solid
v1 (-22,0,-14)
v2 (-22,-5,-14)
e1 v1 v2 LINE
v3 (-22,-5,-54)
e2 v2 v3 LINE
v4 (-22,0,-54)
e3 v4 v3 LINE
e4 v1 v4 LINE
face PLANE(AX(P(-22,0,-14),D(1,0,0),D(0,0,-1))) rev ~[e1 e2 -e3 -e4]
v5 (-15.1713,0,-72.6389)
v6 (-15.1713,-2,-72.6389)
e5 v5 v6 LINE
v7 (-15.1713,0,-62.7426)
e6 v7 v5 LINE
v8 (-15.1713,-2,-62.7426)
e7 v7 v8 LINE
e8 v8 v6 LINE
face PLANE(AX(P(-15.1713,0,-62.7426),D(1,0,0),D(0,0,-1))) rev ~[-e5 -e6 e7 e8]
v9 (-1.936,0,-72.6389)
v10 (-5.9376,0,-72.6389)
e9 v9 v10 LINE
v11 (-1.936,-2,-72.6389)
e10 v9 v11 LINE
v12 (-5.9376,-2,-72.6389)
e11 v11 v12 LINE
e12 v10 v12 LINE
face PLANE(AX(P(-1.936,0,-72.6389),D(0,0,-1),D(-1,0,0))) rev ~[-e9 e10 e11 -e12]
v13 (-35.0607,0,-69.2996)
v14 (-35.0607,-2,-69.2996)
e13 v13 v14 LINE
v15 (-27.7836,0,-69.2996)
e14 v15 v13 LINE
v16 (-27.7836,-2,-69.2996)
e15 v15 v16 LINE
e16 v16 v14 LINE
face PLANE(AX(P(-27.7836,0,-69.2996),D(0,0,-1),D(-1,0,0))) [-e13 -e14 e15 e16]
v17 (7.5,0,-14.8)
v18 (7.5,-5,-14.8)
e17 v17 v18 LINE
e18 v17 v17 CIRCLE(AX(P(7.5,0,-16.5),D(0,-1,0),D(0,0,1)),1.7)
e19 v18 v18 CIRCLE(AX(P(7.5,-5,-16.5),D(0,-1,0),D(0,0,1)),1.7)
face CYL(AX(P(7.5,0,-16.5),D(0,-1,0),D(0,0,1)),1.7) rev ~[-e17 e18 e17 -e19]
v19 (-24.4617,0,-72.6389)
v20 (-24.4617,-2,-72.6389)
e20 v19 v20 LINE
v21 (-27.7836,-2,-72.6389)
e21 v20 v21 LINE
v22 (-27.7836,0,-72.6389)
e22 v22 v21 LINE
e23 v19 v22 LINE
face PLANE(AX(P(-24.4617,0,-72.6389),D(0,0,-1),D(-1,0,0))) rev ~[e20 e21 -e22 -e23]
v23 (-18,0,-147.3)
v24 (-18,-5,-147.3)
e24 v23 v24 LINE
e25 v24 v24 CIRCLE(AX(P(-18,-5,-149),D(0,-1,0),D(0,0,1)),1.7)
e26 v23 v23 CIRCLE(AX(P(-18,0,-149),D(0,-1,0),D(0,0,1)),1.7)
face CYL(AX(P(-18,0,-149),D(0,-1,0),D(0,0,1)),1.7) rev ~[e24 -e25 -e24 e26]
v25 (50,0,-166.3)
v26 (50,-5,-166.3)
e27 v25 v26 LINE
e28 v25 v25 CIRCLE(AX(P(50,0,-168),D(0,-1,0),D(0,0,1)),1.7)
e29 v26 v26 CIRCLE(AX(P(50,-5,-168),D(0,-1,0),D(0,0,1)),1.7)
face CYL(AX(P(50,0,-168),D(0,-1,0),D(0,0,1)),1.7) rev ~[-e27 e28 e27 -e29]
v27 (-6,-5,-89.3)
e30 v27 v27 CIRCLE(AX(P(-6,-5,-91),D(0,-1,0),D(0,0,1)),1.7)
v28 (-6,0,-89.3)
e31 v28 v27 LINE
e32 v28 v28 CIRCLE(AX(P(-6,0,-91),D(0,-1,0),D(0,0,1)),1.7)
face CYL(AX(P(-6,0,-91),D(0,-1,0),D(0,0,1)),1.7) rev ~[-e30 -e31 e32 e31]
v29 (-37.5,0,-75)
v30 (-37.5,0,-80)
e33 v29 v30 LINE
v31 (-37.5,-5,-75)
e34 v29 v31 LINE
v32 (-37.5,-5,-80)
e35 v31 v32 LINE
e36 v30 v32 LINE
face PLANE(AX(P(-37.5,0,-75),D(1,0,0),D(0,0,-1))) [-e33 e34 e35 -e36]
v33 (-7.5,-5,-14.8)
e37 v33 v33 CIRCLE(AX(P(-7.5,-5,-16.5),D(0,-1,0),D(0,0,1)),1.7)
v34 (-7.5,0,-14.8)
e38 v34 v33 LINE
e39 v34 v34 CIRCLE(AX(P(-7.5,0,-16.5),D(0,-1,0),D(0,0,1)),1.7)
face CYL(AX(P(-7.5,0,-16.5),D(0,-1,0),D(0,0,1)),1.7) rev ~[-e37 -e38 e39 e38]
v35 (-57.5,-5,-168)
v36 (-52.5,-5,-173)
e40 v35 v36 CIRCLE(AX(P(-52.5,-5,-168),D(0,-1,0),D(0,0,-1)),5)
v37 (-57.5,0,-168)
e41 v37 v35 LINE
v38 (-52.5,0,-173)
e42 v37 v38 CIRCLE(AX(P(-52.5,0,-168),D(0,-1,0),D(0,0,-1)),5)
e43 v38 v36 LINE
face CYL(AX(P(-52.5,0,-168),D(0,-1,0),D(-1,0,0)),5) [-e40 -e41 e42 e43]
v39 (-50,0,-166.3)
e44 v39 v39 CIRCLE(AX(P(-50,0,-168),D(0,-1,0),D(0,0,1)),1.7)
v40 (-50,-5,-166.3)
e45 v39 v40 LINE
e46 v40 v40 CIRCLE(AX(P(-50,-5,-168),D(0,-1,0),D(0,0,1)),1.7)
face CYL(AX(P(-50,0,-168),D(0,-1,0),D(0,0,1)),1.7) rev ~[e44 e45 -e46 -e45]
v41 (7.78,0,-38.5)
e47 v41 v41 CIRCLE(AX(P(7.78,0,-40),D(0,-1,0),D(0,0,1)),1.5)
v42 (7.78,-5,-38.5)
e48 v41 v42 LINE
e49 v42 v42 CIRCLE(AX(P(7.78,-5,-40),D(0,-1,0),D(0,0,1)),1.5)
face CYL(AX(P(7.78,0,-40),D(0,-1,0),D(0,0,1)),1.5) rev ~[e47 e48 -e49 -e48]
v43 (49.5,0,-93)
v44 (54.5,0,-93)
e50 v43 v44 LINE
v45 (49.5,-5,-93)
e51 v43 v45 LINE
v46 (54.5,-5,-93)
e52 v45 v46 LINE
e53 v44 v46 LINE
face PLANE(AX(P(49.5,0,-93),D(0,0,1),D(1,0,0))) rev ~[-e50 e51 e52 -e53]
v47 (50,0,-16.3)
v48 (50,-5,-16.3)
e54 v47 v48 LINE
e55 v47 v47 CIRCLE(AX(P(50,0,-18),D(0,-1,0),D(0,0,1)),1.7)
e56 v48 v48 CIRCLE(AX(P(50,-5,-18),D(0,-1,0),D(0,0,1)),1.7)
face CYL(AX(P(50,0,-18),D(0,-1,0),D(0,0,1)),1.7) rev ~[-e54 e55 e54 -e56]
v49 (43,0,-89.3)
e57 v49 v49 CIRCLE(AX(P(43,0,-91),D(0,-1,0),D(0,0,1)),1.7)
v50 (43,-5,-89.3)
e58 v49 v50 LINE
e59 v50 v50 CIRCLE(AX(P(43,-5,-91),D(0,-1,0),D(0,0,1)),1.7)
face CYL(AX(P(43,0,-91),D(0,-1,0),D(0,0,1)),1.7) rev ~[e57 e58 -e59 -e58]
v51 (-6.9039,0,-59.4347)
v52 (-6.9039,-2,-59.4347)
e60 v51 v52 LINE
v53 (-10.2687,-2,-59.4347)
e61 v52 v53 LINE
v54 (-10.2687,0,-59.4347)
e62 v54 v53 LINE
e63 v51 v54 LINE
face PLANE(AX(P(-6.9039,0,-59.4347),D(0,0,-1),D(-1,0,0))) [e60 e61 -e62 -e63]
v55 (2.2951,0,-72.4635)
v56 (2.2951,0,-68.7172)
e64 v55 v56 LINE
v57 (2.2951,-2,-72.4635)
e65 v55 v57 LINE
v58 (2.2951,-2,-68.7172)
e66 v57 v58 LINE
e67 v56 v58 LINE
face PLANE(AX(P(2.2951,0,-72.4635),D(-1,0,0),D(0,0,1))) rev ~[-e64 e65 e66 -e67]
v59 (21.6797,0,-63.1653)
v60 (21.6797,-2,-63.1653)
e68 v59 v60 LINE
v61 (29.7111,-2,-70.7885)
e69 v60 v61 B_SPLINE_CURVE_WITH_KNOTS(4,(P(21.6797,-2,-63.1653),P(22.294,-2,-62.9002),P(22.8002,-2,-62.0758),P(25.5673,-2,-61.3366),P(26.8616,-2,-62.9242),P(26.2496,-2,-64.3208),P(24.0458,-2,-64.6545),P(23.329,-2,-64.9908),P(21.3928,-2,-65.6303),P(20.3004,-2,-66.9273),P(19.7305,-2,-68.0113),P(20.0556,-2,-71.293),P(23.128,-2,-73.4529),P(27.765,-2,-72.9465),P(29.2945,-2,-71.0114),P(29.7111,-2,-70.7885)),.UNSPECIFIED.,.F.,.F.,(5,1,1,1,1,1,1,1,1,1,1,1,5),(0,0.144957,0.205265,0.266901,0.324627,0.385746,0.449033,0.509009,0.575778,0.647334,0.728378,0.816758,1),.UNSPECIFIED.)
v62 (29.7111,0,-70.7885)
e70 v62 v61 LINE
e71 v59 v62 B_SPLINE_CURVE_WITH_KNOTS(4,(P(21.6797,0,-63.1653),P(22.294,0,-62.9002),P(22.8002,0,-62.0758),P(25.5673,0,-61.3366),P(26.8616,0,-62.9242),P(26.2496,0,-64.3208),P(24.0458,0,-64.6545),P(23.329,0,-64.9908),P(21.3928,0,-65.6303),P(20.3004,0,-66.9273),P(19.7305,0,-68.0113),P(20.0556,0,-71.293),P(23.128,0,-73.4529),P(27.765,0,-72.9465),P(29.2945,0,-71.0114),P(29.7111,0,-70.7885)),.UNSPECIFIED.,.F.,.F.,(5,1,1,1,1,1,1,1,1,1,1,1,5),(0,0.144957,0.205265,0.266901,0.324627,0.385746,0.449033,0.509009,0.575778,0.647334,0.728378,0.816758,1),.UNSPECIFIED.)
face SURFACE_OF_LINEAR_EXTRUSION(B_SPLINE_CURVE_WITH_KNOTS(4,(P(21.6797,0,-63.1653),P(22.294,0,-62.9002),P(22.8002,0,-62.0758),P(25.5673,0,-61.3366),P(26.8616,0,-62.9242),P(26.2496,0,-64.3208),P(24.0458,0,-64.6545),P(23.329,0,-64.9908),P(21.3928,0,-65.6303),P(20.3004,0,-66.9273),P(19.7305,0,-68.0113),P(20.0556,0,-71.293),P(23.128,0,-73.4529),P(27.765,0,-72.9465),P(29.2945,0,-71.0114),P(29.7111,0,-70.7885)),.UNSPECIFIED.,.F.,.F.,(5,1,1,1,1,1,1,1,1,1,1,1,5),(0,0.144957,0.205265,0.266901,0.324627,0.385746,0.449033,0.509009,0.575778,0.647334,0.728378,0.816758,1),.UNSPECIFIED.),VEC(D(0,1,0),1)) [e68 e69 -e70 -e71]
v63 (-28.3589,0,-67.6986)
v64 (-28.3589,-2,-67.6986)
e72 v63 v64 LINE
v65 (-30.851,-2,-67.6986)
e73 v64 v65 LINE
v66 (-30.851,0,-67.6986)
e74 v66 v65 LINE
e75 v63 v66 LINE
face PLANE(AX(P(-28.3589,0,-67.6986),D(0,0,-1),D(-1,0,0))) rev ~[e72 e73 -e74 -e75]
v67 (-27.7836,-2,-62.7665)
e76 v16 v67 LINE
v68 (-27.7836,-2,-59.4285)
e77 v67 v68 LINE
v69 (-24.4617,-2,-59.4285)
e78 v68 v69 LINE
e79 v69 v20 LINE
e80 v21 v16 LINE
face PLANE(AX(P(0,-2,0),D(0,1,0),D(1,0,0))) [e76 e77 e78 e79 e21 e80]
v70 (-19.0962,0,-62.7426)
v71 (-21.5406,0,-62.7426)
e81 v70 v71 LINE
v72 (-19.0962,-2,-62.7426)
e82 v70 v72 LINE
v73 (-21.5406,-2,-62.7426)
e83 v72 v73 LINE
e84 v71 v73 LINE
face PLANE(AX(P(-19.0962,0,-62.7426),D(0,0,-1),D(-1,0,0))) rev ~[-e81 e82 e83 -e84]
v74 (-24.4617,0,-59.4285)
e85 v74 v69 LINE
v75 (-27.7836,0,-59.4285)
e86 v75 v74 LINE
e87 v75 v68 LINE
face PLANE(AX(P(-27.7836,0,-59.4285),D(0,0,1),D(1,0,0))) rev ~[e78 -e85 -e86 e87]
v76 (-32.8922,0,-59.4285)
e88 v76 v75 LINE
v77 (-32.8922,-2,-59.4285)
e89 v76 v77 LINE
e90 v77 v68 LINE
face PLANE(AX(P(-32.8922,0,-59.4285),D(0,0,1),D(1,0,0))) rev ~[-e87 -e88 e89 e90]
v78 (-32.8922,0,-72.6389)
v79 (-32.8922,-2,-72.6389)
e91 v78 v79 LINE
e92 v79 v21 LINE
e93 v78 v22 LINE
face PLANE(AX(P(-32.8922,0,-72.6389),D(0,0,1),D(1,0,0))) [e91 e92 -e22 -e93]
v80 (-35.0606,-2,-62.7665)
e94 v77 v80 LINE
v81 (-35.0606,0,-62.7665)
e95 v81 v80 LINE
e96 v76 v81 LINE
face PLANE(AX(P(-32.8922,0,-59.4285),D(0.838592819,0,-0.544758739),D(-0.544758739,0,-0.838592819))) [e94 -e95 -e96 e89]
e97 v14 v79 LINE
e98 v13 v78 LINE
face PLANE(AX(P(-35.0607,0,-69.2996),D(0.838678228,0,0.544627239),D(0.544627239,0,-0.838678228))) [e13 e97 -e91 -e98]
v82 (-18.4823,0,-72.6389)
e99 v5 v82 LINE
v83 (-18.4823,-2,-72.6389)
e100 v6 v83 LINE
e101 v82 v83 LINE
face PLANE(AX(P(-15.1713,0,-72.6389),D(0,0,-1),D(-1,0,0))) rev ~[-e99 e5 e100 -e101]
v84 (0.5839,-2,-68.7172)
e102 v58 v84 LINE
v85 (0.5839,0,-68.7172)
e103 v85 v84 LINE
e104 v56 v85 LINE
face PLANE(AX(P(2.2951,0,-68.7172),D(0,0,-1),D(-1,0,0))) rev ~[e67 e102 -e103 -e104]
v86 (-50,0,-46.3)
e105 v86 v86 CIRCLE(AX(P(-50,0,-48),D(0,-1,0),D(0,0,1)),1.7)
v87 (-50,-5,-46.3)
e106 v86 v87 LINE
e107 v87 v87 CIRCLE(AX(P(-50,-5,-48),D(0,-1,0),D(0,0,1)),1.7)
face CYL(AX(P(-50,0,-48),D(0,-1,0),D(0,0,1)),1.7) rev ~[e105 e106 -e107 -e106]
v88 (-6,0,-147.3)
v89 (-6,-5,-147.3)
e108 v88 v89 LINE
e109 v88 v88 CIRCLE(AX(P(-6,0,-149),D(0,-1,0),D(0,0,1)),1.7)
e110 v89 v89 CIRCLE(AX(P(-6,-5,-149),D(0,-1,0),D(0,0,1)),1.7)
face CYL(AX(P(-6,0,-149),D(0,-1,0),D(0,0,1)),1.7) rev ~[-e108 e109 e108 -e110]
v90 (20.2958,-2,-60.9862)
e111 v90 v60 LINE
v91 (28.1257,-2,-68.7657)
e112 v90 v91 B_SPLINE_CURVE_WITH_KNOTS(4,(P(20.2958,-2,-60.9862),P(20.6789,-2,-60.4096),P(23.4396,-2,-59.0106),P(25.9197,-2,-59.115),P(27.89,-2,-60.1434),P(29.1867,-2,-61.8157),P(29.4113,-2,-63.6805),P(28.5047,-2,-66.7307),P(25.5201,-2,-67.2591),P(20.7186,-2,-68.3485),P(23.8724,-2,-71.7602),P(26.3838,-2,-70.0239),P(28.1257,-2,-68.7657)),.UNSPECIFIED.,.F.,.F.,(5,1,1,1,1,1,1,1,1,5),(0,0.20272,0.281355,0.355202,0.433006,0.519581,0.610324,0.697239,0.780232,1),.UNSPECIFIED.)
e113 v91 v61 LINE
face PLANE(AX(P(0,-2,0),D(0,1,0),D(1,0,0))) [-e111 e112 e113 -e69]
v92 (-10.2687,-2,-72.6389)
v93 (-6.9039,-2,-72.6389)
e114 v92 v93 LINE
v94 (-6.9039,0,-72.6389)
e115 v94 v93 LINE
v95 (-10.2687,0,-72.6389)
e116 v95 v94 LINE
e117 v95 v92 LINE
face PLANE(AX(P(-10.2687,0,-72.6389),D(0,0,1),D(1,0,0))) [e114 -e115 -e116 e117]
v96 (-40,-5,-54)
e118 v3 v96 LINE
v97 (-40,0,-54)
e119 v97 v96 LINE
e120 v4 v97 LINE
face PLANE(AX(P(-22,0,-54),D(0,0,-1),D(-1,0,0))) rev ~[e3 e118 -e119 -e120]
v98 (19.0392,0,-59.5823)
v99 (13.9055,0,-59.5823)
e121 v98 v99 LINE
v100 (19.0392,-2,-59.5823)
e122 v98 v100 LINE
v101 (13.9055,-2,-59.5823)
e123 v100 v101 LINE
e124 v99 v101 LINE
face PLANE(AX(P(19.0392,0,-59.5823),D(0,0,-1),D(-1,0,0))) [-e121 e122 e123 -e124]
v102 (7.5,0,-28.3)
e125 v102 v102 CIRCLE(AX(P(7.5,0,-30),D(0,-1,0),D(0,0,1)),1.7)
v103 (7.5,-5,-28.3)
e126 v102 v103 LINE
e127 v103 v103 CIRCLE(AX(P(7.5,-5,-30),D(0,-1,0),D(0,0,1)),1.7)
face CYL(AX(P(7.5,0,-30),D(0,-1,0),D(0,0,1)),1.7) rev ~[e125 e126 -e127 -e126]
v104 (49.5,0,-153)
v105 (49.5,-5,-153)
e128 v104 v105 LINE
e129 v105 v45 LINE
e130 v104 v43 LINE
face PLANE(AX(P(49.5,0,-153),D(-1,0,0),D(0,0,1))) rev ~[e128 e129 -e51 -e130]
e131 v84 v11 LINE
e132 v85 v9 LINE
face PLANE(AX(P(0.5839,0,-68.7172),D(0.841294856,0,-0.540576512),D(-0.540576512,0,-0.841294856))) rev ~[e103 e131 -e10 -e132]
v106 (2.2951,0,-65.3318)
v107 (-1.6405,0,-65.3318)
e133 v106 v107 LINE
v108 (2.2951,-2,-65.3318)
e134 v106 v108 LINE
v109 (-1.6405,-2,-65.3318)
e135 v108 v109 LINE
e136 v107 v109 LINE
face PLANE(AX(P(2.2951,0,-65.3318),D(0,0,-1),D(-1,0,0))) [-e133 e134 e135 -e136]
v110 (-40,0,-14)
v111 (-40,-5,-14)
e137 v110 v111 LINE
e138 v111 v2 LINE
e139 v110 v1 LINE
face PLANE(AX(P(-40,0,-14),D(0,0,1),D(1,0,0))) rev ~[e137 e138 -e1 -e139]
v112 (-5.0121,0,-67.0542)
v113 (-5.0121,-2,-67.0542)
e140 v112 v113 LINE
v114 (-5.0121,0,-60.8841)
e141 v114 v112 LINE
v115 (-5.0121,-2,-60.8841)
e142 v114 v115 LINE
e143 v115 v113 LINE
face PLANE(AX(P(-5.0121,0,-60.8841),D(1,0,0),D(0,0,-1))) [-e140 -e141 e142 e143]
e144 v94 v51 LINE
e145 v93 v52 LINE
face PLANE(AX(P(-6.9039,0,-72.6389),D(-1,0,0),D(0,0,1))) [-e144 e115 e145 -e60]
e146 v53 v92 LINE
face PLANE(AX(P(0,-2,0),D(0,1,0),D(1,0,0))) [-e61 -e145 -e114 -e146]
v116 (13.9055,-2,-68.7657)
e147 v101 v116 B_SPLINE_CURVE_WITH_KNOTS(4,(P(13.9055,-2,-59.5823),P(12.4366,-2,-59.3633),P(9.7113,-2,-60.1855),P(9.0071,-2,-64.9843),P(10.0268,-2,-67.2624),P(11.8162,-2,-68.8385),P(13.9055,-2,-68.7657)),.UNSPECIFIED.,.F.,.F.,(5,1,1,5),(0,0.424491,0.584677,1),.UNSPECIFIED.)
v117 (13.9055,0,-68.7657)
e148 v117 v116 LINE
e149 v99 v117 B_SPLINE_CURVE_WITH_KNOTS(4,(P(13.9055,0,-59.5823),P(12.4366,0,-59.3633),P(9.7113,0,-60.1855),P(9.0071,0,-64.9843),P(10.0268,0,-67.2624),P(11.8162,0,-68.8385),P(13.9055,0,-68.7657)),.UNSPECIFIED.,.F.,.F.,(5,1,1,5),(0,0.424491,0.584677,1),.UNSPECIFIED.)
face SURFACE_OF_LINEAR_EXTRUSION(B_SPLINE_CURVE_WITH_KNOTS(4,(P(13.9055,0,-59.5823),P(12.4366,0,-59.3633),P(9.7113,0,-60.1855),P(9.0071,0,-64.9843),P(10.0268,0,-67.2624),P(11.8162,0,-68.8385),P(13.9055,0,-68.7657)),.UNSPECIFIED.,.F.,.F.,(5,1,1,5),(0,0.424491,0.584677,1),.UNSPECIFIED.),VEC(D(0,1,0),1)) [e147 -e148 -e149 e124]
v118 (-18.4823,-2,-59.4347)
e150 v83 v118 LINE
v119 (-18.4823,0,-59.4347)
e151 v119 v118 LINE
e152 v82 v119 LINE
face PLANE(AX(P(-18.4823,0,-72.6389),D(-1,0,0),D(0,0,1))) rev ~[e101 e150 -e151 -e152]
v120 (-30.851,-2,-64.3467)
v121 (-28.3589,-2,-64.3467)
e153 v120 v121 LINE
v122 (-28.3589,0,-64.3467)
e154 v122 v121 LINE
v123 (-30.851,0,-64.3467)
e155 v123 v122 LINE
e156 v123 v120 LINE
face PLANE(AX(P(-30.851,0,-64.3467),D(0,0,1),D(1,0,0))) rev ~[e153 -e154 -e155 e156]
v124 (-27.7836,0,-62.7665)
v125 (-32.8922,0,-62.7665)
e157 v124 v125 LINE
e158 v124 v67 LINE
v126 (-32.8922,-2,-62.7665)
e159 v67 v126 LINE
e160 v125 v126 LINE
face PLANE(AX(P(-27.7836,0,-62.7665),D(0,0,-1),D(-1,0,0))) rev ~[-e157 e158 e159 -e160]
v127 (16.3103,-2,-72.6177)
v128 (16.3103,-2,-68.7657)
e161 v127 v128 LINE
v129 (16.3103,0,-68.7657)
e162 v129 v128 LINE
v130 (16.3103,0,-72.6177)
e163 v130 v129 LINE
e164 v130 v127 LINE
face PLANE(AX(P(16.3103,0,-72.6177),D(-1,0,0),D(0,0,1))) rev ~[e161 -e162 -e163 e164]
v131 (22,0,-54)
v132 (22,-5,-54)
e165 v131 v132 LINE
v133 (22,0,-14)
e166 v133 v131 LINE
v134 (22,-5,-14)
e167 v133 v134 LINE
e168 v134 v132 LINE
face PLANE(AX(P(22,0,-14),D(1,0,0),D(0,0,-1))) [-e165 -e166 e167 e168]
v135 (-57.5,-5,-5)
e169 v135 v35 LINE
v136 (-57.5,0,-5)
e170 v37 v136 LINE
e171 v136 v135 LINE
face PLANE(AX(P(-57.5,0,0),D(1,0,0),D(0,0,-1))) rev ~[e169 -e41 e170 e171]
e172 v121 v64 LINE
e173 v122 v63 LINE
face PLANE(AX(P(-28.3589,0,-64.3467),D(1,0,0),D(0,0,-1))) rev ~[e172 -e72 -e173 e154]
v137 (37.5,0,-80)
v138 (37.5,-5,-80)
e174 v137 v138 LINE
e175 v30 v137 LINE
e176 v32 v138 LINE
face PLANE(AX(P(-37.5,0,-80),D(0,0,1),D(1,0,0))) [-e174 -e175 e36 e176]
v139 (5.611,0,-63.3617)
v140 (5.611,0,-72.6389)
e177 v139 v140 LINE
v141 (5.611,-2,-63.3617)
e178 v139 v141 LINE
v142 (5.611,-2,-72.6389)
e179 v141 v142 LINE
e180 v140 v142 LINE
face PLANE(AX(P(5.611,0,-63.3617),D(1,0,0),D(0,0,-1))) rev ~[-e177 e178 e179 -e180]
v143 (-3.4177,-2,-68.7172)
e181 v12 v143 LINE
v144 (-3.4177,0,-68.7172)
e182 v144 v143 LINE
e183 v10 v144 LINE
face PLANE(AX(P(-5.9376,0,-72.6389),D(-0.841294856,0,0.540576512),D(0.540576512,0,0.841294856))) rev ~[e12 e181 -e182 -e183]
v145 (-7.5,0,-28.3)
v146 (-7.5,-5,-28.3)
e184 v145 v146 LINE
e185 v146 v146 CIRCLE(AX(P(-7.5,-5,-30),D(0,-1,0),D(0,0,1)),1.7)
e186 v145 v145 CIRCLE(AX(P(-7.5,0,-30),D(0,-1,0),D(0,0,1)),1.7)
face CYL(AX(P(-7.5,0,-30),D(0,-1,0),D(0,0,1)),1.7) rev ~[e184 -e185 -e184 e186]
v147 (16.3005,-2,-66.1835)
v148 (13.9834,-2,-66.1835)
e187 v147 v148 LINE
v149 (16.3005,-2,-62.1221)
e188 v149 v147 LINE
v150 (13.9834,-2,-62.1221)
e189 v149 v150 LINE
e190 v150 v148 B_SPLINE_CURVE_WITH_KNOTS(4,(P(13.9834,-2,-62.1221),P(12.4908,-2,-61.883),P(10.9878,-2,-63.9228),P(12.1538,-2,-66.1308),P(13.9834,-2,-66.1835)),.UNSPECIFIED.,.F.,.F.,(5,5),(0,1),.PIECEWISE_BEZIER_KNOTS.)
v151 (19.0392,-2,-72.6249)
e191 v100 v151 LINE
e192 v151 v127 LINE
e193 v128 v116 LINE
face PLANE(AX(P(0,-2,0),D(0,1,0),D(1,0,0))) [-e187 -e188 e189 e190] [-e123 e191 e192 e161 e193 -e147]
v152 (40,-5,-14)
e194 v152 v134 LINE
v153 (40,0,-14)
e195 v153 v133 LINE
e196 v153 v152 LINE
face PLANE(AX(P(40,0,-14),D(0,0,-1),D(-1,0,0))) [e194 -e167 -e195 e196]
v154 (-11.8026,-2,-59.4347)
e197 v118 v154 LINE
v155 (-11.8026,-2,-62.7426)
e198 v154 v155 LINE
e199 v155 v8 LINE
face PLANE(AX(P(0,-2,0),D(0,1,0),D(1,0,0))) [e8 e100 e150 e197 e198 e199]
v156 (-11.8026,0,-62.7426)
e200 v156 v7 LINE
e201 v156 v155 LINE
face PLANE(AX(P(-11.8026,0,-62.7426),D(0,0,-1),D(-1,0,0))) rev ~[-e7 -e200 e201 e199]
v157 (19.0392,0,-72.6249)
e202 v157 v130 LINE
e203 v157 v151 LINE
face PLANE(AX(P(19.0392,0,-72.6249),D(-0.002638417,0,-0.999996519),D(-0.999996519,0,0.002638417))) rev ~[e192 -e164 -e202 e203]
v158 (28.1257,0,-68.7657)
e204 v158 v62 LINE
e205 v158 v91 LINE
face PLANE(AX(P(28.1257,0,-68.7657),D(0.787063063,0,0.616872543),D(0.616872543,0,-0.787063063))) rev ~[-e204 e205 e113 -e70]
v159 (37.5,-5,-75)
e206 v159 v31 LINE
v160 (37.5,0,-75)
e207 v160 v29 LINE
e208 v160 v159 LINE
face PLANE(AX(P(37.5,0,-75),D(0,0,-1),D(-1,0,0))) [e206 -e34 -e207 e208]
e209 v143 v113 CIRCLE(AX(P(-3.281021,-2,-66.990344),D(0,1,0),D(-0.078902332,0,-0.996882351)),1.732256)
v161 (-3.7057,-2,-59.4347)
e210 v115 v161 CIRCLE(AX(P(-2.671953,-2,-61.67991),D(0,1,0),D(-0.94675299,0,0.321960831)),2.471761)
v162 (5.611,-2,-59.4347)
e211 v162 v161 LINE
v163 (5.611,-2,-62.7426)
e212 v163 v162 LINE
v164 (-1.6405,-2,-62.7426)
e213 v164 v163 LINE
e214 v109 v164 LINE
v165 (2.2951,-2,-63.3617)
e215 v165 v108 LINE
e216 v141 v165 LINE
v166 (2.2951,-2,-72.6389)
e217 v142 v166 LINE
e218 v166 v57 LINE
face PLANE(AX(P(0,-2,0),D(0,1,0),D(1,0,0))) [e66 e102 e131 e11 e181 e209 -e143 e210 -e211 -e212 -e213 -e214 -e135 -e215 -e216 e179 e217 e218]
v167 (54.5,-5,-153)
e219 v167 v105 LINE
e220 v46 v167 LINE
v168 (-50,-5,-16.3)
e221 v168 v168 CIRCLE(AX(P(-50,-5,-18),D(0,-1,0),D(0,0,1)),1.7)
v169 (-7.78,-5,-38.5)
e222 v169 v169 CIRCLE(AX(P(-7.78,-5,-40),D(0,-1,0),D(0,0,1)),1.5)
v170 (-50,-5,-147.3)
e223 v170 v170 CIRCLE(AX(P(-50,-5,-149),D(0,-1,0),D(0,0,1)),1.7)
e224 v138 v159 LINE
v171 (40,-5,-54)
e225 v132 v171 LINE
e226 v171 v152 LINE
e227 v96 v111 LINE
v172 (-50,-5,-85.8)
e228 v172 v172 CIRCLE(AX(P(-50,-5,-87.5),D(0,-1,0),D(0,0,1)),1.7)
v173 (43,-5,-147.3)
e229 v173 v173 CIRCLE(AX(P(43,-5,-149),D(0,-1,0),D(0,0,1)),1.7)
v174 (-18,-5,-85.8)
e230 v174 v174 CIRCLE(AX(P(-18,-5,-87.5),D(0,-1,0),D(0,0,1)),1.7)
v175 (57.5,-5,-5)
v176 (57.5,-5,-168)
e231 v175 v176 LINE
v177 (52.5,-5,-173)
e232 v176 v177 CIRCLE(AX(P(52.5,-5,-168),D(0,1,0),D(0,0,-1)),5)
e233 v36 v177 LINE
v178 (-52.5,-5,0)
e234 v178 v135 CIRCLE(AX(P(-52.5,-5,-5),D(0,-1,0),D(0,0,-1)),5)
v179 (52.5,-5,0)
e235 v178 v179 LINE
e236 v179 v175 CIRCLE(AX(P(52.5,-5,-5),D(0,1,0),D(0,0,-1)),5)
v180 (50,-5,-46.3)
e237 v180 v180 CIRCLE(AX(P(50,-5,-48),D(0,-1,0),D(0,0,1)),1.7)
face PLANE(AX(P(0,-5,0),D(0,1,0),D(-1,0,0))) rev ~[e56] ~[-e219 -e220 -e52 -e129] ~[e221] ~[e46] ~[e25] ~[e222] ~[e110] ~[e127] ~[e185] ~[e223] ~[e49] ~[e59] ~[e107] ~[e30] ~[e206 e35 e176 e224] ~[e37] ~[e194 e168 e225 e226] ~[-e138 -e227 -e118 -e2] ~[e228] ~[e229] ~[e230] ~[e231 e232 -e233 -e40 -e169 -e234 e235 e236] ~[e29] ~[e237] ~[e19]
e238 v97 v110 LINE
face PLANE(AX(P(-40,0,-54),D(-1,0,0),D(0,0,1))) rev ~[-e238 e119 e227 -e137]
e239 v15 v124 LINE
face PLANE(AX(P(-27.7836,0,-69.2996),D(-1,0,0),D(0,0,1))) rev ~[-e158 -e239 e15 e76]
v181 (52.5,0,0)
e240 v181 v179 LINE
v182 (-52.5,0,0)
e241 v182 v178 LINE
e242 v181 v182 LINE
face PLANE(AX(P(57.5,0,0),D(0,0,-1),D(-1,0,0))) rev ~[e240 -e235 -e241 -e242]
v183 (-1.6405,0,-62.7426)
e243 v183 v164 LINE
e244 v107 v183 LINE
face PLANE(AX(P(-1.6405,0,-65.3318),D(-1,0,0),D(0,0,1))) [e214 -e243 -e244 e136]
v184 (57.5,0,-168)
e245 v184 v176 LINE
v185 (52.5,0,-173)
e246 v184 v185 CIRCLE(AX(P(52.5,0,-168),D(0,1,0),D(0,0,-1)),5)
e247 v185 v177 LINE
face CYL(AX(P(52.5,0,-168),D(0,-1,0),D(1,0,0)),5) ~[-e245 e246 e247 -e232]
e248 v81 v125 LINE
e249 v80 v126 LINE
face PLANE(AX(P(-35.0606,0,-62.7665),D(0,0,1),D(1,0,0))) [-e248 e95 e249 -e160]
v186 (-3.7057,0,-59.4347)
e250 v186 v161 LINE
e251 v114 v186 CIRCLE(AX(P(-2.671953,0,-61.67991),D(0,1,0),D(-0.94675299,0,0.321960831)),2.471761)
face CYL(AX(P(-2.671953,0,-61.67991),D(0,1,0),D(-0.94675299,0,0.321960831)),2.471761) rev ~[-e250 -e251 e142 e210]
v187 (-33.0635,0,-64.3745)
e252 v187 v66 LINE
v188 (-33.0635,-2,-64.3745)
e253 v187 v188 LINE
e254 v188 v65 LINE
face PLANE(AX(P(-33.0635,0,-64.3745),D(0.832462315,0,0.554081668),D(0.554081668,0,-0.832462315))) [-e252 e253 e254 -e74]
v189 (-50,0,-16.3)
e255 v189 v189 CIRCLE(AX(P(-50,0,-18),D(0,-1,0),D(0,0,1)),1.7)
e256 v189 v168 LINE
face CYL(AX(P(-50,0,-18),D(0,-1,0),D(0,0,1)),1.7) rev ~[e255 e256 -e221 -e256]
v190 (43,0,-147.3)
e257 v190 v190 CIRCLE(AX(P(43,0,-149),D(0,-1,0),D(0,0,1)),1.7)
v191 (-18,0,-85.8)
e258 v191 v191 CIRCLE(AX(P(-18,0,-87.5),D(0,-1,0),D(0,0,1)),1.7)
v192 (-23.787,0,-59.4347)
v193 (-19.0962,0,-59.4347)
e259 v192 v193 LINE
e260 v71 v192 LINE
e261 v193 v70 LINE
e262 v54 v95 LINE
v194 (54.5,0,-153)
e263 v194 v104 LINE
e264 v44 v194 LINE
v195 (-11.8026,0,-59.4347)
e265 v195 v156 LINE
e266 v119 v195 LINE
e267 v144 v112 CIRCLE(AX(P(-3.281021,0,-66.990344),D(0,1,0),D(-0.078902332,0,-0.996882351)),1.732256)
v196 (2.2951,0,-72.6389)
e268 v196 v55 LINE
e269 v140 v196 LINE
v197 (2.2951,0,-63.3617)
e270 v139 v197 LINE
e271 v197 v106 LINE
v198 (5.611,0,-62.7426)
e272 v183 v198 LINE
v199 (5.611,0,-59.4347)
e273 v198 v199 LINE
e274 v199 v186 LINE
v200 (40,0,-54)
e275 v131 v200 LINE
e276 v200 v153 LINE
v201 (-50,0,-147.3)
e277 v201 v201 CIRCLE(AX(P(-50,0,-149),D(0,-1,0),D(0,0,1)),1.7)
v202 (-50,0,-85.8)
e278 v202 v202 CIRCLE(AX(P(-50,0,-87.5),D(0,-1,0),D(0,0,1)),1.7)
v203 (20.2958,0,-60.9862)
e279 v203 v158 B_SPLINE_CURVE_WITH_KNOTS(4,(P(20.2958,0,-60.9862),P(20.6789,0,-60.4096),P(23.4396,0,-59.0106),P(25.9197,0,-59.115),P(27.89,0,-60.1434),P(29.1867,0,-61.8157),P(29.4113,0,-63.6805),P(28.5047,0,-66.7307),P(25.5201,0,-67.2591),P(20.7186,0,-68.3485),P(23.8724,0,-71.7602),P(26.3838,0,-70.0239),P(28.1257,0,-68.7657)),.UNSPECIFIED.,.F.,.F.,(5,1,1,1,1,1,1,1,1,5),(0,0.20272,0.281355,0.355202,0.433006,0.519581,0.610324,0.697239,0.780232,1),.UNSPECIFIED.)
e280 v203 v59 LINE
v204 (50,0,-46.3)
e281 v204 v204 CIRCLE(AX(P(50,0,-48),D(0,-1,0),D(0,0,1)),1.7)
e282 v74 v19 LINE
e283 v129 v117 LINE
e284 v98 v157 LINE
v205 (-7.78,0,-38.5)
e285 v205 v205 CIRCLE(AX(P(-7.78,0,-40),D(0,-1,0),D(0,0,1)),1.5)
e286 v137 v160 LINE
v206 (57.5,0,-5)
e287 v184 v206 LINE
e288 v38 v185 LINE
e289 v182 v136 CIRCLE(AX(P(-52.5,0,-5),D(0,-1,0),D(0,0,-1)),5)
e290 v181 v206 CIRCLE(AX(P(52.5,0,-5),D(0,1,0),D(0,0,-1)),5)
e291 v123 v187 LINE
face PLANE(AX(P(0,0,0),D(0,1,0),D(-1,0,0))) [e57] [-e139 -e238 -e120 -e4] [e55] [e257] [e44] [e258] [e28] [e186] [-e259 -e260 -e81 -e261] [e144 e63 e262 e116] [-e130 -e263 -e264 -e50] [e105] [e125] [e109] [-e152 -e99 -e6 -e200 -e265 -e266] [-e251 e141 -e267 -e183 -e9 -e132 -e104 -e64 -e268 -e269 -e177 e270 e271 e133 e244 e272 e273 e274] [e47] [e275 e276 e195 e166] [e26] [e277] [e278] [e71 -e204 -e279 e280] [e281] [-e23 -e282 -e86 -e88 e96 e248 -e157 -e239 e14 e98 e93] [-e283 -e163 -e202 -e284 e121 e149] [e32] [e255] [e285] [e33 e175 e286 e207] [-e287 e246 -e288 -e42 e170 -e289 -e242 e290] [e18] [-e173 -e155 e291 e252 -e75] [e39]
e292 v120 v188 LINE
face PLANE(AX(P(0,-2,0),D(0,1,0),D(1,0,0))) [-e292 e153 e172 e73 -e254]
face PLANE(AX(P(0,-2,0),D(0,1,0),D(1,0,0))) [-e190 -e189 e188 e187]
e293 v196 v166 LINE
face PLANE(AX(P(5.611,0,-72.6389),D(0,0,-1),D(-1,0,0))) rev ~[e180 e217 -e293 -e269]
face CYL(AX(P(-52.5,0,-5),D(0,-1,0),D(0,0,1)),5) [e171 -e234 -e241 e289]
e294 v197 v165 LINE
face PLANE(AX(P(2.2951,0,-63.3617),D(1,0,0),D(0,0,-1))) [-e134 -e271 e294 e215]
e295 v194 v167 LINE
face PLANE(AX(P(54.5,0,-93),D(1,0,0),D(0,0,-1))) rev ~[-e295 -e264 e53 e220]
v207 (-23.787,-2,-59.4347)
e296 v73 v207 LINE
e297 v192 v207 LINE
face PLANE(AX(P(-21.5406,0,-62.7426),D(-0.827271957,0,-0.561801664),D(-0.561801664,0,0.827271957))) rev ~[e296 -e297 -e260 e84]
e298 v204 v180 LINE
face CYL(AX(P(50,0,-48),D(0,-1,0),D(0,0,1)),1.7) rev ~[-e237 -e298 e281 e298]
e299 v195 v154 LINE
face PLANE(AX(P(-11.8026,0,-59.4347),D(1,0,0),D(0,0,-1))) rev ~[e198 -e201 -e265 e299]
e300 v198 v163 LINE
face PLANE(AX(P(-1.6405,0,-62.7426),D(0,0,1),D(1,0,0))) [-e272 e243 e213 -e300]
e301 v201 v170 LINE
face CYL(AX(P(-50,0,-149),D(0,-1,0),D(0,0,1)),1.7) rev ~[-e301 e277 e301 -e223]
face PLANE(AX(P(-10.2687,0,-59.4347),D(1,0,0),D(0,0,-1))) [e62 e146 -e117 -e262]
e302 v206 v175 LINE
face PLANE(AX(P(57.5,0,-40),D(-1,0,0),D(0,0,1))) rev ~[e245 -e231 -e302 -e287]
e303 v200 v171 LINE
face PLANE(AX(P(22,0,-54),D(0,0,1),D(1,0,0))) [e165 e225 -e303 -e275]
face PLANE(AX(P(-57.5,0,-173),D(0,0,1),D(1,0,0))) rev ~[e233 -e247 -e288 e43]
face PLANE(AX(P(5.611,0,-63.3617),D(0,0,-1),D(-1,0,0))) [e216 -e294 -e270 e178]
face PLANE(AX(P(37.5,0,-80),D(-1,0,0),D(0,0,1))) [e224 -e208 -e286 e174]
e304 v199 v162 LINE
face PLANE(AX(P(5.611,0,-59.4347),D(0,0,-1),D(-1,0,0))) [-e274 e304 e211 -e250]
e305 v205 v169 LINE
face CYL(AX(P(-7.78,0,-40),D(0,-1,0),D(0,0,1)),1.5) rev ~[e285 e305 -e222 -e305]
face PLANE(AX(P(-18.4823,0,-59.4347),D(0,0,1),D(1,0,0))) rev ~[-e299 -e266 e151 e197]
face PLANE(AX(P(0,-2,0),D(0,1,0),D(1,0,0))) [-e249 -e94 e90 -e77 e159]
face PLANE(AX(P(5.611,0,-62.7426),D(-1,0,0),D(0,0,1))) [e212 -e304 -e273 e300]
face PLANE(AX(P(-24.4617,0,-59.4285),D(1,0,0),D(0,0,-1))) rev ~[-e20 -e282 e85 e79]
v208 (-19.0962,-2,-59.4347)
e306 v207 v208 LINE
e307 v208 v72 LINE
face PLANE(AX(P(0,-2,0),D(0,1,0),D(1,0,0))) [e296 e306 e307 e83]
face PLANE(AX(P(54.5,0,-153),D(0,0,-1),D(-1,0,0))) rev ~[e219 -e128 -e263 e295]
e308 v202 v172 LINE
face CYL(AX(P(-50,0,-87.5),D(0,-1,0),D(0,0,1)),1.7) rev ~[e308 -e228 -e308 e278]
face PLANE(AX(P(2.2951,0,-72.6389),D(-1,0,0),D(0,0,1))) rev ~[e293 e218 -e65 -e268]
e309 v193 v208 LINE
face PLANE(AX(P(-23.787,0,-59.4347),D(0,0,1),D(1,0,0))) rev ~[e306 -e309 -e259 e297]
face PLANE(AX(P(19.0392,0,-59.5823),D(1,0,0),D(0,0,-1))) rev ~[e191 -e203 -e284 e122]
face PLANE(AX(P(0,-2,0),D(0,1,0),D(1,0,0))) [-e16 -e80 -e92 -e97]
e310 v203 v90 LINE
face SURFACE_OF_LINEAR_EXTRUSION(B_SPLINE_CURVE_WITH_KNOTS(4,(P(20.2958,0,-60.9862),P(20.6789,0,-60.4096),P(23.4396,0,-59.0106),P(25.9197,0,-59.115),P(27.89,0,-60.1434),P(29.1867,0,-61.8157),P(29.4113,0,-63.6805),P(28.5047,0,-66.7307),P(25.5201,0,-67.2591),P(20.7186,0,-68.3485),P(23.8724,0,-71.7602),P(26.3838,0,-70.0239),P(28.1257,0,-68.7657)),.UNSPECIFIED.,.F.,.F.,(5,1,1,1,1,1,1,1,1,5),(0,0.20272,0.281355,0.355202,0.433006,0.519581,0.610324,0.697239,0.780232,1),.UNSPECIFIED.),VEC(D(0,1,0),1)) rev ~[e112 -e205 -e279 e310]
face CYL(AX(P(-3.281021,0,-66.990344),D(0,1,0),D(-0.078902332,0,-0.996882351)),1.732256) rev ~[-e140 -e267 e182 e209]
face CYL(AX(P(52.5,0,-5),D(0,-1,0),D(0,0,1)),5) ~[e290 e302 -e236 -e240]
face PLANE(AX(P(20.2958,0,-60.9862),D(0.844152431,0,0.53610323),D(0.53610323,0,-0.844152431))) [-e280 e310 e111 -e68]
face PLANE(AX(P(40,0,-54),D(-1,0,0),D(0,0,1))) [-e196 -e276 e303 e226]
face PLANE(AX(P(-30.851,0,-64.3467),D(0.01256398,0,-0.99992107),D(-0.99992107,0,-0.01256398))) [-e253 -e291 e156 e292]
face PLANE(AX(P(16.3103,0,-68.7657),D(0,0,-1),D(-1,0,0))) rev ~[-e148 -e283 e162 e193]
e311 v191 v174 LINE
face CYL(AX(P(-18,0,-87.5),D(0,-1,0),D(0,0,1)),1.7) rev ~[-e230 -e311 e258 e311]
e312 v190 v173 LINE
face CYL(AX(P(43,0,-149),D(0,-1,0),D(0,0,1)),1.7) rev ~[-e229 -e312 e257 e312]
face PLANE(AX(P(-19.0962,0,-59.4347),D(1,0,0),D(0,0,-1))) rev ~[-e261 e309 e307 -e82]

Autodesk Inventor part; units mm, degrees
ref_plane "YZ Plane" through (0, 0, 0) normal (1, 0, 0) x (0, 1, 0)
ref_plane "XZ Plane" through (0, 0, 0) normal (0, 1, 0) x (-1, 0, 0)
ref_plane "XY Plane" through (0, 0, 0) normal (0, 0, 1) x (1, 0, 0)
sketch "Sketch1" plane through (0, 0, 0) normal (0, 1, 0) x (-1, 0, 0)
  line L0 (57.5, -173) -> (57.5, -173) construction
  line L1 (-57.5, -173) -> (-57.5, 0) construction
  line L2 (-57.5, 0) -> (57.5, 0)
  line L3 (57.5, 0) -> (57.5, -173) construction
  line L4 (80.5, 0) -> (-80.5, 0) construction
  line L5 (0, -207.6) -> (0, 34.6) construction
  line L6 (57.5, -173) -> (-57.5, -173)
  line L7 (-57.5, -173) -> (-57.5, -173) construction
  line L8 (57.5, 0) -> (-55.1767, 0)
  line L9 (57.5, -40) -> (-57.5, -40) construction
  line L10 (-57.5, -40) -> (-57.5, 0)
  line L11 (-57.5, 0) -> (57.5, 0)
  line L12 (57.5, 0) -> (57.5, -40)
  line L13 (-57.5, -173) -> (-57.5, -40)
  line L14 (57.5, -173) -> (57.5, -40)
  point P0 (0, 0)
  dimension "width" = 115
  dimension "Length" = 173
  dimension "d2" = 115
  dimension "d112" = 40
extrude "Base" add sketch "Sketch1" against normal blind 5
sketch "Sketch11" plane through (0, 0, 0) normal (0, 1, 0) x (1, 0, 0)
  line L0 (0, 207.6) -> (0, -34.6) construction
  line L1 (-57.5, 0) -> (57.5, 0) construction
  line L2 (57.5, 173) -> (-57.5, 173) projected
  line L3 (-50, 18) -> (50, 18) construction
  line L4 (50, 18) -> (50, 48) construction
  line L5 (50, 48) -> (-50, 48) construction
  line L6 (-50, 48) -> (-50, 18) construction
  point P0 (0, 0)
  point P1 (50, 168)
  point P2 (-50, 168)
  dimension "d91" = 18
  dimension "d92" = 50
  dimension "d93" = 5
  dimension "d94" = 50
  dimension "d113" = 30
hole "Mounting Holes" at (50, 0, -18) at (-50, 0, -18) at (50, 0, -168) at (-50, 0, -168) at (-50, 0, -48) at (50, 0, -48) direction (0, -1, 0) diameter 3.4 depth 6
fillet "Fillet1" radius 5 4 edges at (-57.5, -2.5, 0) (57.5, -2.5, -173) (-57.5, -2.5, -173) (57.5, -2.5, 0)
sketch "Sketch12" plane through (0, 0, 0) normal (0, 1, 0) x (1, 0, 0)
  line L0 (-6, 149) -> (43, 149) construction
  line L1 (43, 149) -> (43, 91) construction
  line L2 (43, 91) -> (-6, 91) construction
  line L3 (-6, 91) -> (-6, 149) construction
  line L4 (-57.5, 168) -> (-57.5, 5) projected
  line L5 (0, 207.6) -> (0, -34.6) projected
  line L6 (-52.5, 0) -> (52.5, 0) projected
  circle A0 centre (-50, 48) radius 1.7 projected
  line L7 (52.5, 173) -> (-52.5, 173) projected
  circle A1 centre (50, 48) radius 1.7 projected
  circle A2 centre (50, 168) radius 1.7 projected
  point P0 (0, 0)
  point P1 (0, 0)
  point P2 (52.2987, 0)
  point P3 (-57.5, 40)
  point P4 (0, 0)
  dimension "d104" = 58
  dimension "d263" = 24
  dimension "d266" = 49
  dimension "d267" = 7
hole "RasPi Mounting Holes" at (-6, 0, -149) at (43, 0, -149) at (43, 0, -91) at (-6, 0, -91) direction (0, -1, 0) diameter 3.4 depth 6
sketch "Sketch15" plane through (0, 0, 0) normal (0, 1, 0) x (1, 0, 0)
  line L0 (-18, 149) -> (-18, 87.5) construction
  line L1 (-18, 87.5) -> (-50, 87.5) construction
  line L2 (-50, 87.5) -> (-50, 149) construction
  line L3 (-50, 149) -> (-18, 149) construction
  line L4 (-52.5, 0) -> (52.5, 0) projected
  circle A0 centre (43, 149) radius 1.7 projected
  circle A1 centre (50, 48) radius 1.7 projected
  circle A2 centre (-50, 48) radius 1.7 projected
  point P0 (0, 0)
  point P1 (0, 0)
  dimension "d122" = 32
  dimension "d123" = 61.5
hole "LM2596 Mounting Holes" at (-18, 0, -149) at (-18, 0, -87.5) at (-50, 0, -87.5) at (-50, 0, -149) direction (0, -1, 0) diameter 3.4 depth 6
sketch "Sketch16" plane through (0, 0, 0) normal (0, 1, 0) x (1, 0, 0)
  line L0 (-7.5, 16.5) -> (7.5, 16.5) construction
  line L1 (7.5, 16.5) -> (7.5, 30) construction
  line L2 (7.5, 30) -> (-7.5, 30) construction
  line L3 (-7.5, 30) -> (-7.5, 16.5) construction
  line L4 (52.5, 173) -> (-52.5, 173) projected
  line L5 (-52.5, 0) -> (52.5, 0) projected
  point P0 (0, 0)
  point P1 (0, 30)
  point P2 (0, 173)
  dimension "d132" = 15
  dimension "d133" = 13.5
  dimension "d264" = 16.5
hole "Camera Mount Mounting Holes" at (-7.5, 0, -30) at (-7.5, 0, -16.5) at (7.5, 0, -16.5) at (7.5, 0, -30) direction (0, -1, 0) diameter 3.4 depth 6
sketch "Sketch17" plane through (0, 0, 0) normal (0, 1, 0) x (1, 0, 0)
  spline S0 degree 4 poles (20.2958, 60.9862) (20.6789, 60.4096) (23.4396, 59.0106) (25.9197, 59.115) (27.89, 60.1434) (29.1867, 61.8157) (29.4113, 63.6805) (28.5047, 66.7307) (25.5201, 67.2591) (20.7186, 68.3485) (23.8724, 71.7602) (26.3838, 70.0239) (28.1257, 68.7657) knots 0 0 0 0 0 0.20272 0.281355 0.355202 0.433006 0.519581 0.610324 0.697239 0.780232 1 1 1 1 1
  line L0 (28.1257, 68.7657) -> (29.7111, 70.7885)
  line L1 (20.2958, 60.9862) -> (21.6797, 63.1653)
  spline S1 degree 4 poles (21.6797, 63.1653) (22.294, 62.9002) (22.8002, 62.0758) (25.5673, 61.3366) (26.8616, 62.9242) (26.2496, 64.3208) (24.0458, 64.6545) (23.329, 64.9908) (21.3928, 65.6303) (20.3004, 66.9273) (19.7305, 68.0113) (20.0556, 71.293) (23.128, 73.4529) (27.765, 72.9465) (29.2945, 71.0114) (29.7111, 70.7885) knots 0 0 0 0 0 0.144957 0.205265 0.266901 0.324627 0.385746 0.449033 0.509009 0.575778 0.647334 0.728378 0.816758 1 1 1 1 1
  line L2 (19.0392, 59.5823) -> (19.0392, 72.6249)
  line L3 (19.0392, 72.6249) -> (16.3103, 72.6177)
  line L4 (16.3103, 72.6177) -> (16.3103, 68.7657)
  line L5 (16.3005, 62.1221) -> (16.3005, 66.1835)
  line L6 (16.3005, 66.1835) -> (13.9834, 66.1835)
  line L7 (16.3005, 62.1221) -> (13.9834, 62.1221)
  line L8 (19.0392, 59.5823) -> (13.9055, 59.5823)
  line L9 (16.3103, 68.7657) -> (13.9055, 68.7657)
  spline S2 degree 4 poles (13.9055, 59.5823) (12.4366, 59.3633) (9.7113, 60.1855) (9.0071, 64.9843) (10.0268, 67.2624) (11.8162, 68.8385) (13.9055, 68.7657) knots 0 0 0 0 0 0.424491 0.584677 1 1 1 1 1
  spline S3 degree 4 poles (13.9834, 62.1221) (12.4908, 61.883) (10.9878, 63.9228) (12.1538, 66.1308) (13.9834, 66.1835) knots 0 0 0 0 0 1 1 1 1 1
  line L10 (5.611, 63.3617) -> (5.611, 72.6389)
  line L11 (5.611, 72.6389) -> (2.2951, 72.6389)
  line L12 (2.2951, 72.6389) -> (2.2951, 72.4635)
  line L13 (2.2951, 72.4635) -> (2.2951, 68.7172)
  line L14 (2.2951, 68.7172) -> (0.5839, 68.7172)
  line L15 (0.5839, 68.7172) -> (-1.936, 72.6389)
  line L16 (-1.936, 72.6389) -> (-5.9376, 72.6389)
  line L17 (-5.9376, 72.6389) -> (-3.4177, 68.7172)
  line L18 (5.611, 63.3617) -> (2.2951, 63.3617)
  line L19 (2.2951, 63.3617) -> (2.2951, 65.3318)
  line L20 (2.2951, 65.3318) -> (-1.6405, 65.3318)
  line L21 (-1.6405, 65.3318) -> (-1.6405, 62.7426)
  line L22 (-1.6405, 62.7426) -> (5.611, 62.7426)
  line L23 (5.611, 62.7426) -> (5.611, 59.4347)
  line L24 (5.611, 59.4347) -> (-3.7057, 59.4347)
  line L25 (-5.0121, 60.8841) -> (-5.0121, 67.0542)
  arc A0 (-3.4177, 68.7172) -> (-5.0121, 67.0542) centre (-3.281, 66.9903) ccw
  arc A1 (-5.0121, 60.8841) -> (-3.7057, 59.4347) centre (-2.6718, 61.68) ccw
  line L26 (-6.9039, 59.4347) -> (-10.2687, 59.4347)
  line L27 (-10.2687, 59.4347) -> (-10.2687, 72.6389)
  line L28 (-10.2687, 72.6389) -> (-6.9039, 72.6389)
  line L29 (-6.9039, 72.6389) -> (-6.9039, 59.4347)
  line L30 (-11.8026, 59.4347) -> (-11.8026, 62.7426)
  line L31 (-11.8026, 62.7426) -> (-15.1713, 62.7426)
  line L32 (-15.1713, 62.7426) -> (-15.1713, 72.6389)
  line L33 (-15.1713, 72.6389) -> (-18.4823, 72.6389)
  line L34 (-18.4823, 72.6389) -> (-18.4823, 59.4347)
  line L35 (-18.4823, 59.4347) -> (-11.8026, 59.4347)
  line L36 (-19.0962, 59.4347) -> (-19.0962, 62.7426)
  line L37 (-19.0962, 62.7426) -> (-21.5406, 62.7426)
  line L38 (-21.5406, 62.7426) -> (-23.787, 59.4347)
  line L39 (-23.787, 59.4347) -> (-19.0962, 59.4347)
  line L40 (-24.4617, 59.4285) -> (-24.4617, 72.6389)
  line L41 (-24.4617, 72.6389) -> (-27.7836, 72.6389)
  line L42 (-27.7836, 72.6389) -> (-27.7836, 59.4285)
  line L43 (-27.7836, 59.4285) -> (-24.4617, 59.4285)
  line L44 (-28.3589, 64.3467) -> (-28.3589, 67.6986)
  line L45 (-28.3589, 67.6986) -> (-30.851, 67.6986)
  line L46 (-30.851, 64.3467) -> (-28.3589, 64.3467)
  line L47 (-27.7836, 59.4285) -> (-27.7836, 62.7665)
  line L48 (-27.7836, 62.7665) -> (-32.8922, 62.7665)
  line L49 (-32.8922, 59.4285) -> (-27.7836, 59.4285)
  line L50 (-32.8922, 59.4285) -> (-35.0606, 62.7665)
  line L51 (-35.0606, 62.7665) -> (-32.8922, 62.7665)
  line L52 (-30.851, 64.3467) -> (-33.0635, 64.3745)
  line L53 (-33.0635, 64.3745) -> (-30.851, 67.6986)
  line L54 (-27.7836, 69.2996) -> (-35.0607, 69.2996)
  line L55 (-35.0607, 69.2996) -> (-32.8922, 72.6389)
  line L56 (-32.8922, 72.6389) -> (-27.7836, 72.6389)
  point P0 (21.8312, 59.9838)
  point P1 (24.6762, 59.2804)
  point P2 (27.8239, 60.2947)
  point P3 (29.2122, 63.5388)
  point P4 (25.048, 67.3986)
  point P5 (22.697, 68.6)
  point P6 (22.9251, 69.7776)
  point P7 (24.696, 70.4127)
  point P8 (28.2025, 66.0753)
  point P9 (28.8947, 61.6912)
  point P10 (26.5311, 59.549)
  point P11 (22.4682, 62.66)
  point P12 (23.9337, 61.9871)
  point P13 (25.8462, 62.0797)
  point P14 (26.5371, 62.9822)
  point P15 (26.0534, 64.0216)
  point P16 (24.2764, 64.6696)
  point P17 (23.1794, 65.02)
  point P18 (21.5575, 65.763)
  point P19 (20.447, 66.8371)
  point P20 (19.9672, 67.9776)
  point P21 (20.2871, 70.5583)
  point P22 (22.4689, 72.5357)
  point P23 (26.4542, 72.6342)
  point P24 (29.0183, 71.3375)
  point P25 (11.42, 60.0557)
  point P26 (9.7835, 62.015)
  point P27 (9.4634, 64.5517)
  point P28 (9.8877, 66.3528)
  point P29 (11.0438, 67.8413)
  point P30 (12.7043, 62.5399)
  point P31 (12.0389, 63.8771)
  point P32 (12.4464, 65.3868)
  point P33 (-27.7836, 62.7665)
  point P34 (-3.281, 66.9903)
extrude "SP RITE Logo" cut sketch "Sketch17" against normal blind 2 contours L1 S1 L0 S0 | L8 S2 L9 L4 L3 L2 | L7 S3 L6 L5 | L18 L19 L20 L21 L22 L23 L24 A1 L25 A0 L17 L16 L15 L14 L13 L12 L11 L10 | L26 L27 L28 L29 | L35 L34 L33 L32 L31 L30 | L39 L38 L37 L36 | L43 L42 L41 L40 | L49 L50 L51 L48 L42 | L42 L54 L55 L56 | L46 L52 L53 L45 L44
sketch "Sketch18" plane through (0, 0, 0) normal (0, 1, 0) x (1, 0, 0)
  line L0 (40, 14) -> (22, 14)
  line L1 (22, 14) -> (22, 54)
  line L2 (22, 54) -> (40, 54)
  line L3 (40, 54) -> (40, 14)
  line L4 (-52.5, 0) -> (52.5, 0) projected
  line L5 (49.5, 93) -> (54.5, 93)
  line L6 (54.5, 93) -> (54.5, 153)
  line L7 (54.5, 153) -> (49.5, 153)
  line L8 (49.5, 153) -> (49.5, 93)
  line L9 (57.5, 5) -> (57.5, 168) projected
  line L10 (52.5, 173) -> (-52.5, 173) projected
  line L11 (37.5, 75) -> (-37.5, 75)
  line L12 (-37.5, 75) -> (-37.5, 80)
  line L13 (-37.5, 80) -> (37.5, 80)
  line L14 (37.5, 80) -> (37.5, 75)
  line L15 (0, 0) -> (0, 173) construction
  line L16 (-40, 14) -> (-22, 14)
  line L17 (-22, 14) -> (-22, 54)
  line L18 (-22, 54) -> (-40, 54)
  line L19 (-40, 54) -> (-40, 14)
  circle A0 centre (-7.78, 65) radius 1.56
  circle A1 centre (7.78, 65) radius 1.56
  point P0 (0, 0)
  point P1 (22, 34)
  point P2 (0, 75)
  dimension "d268" = 40
  dimension "d269" = 18
  dimension "d270" = 22
  dimension "d271" = 14
  dimension "d272" = 5
  dimension "d273" = 3
  dimension "d274" = 60
  dimension "d275" = 20
  dimension "d276" = 75
  dimension "d277" = 5
  dimension "d278" = 75
  dimension "d279" = 15.56
  dimension "d280" = 7.78
  dimension "d281" = 65
  dimension "d282" = 3.12
extrude "Extrusion6" cut sketch "Sketch18" against normal blind 10 contours L0 L1 L2 L3 | L8 L7 L6 L5 | L11 L12 L13 L14 | L19 L18 L17 L16
sketch "Sketch19" plane through (0, 0, 0) normal (0, 1, 0) x (1, 0, 0)
  line L0 (-37.5, 75) -> (-37.5, 80) projected
  line L1 (-37.5, 80) -> (37.5, 80) projected
  line L2 (37.5, 80) -> (37.5, 75) projected
  line L3 (37.5, 75) -> (-37.5, 75) projected
  line L4 (-40, 54) -> (-22, 54) projected
  line L5 (-22, 54) -> (-22, 14) projected
  line L6 (-22, 14) -> (-40, 14) projected
  line L7 (-40, 14) -> (-40, 54) projected
  line L8 (49.5, 153) -> (54.5, 153) projected
  line L9 (54.5, 153) -> (54.5, 93) projected
  line L10 (54.5, 93) -> (49.5, 93) projected
  line L11 (49.5, 93) -> (49.5, 153) projected
  line L12 (22, 14) -> (22, 54) projected
  line L13 (22, 54) -> (40, 54) projected
  line L14 (40, 54) -> (40, 14) projected
  line L15 (40, 14) -> (22, 14) projected
  line L16 (-10.2687, 59.4347) -> (-10.2687, 72.6389) projected
  line L17 (-10.2687, 72.6389) -> (-6.9039, 72.6389) projected
  line L18 (-6.9039, 72.6389) -> (-6.9039, 59.4347) projected
  line L19 (-6.9039, 59.4347) -> (-10.2687, 59.4347) projected
  line L20 (-28.3589, 64.3467) -> (-30.851, 64.3467) projected
  line L21 (-30.851, 64.3467) -> (-33.0635, 64.3745) projected
  line L22 (-33.0635, 64.3745) -> (-30.851, 67.6986) projected
  line L23 (-30.851, 67.6986) -> (-28.3589, 67.6986) projected
  line L24 (-28.3589, 67.6986) -> (-28.3589, 64.3467) projected
  line L25 (-15.1713, 72.6389) -> (-15.1713, 62.7426) projected
  line L26 (-15.1713, 62.7426) -> (-11.8026, 62.7426) projected
  line L27 (-11.8026, 62.7426) -> (-11.8026, 59.4347) projected
  line L28 (-11.8026, 59.4347) -> (-18.4823, 59.4347) projected
  line L29 (-18.4823, 59.4347) -> (-18.4823, 72.6389) projected
  line L30 (-18.4823, 72.6389) -> (-15.1713, 72.6389) projected
  line L31 (29.7111, 70.7885) -> (28.1257, 68.7657) projected
  line L32 (20.2958, 60.9862) -> (21.6797, 63.1653) projected
  line L33 (2.2951, 72.6389) -> (5.611, 72.6389) projected
  line L34 (5.611, 72.6389) -> (5.611, 63.3617) projected
  line L35 (5.611, 63.3617) -> (2.2951, 63.3617) projected
  line L36 (2.2951, 63.3617) -> (2.2951, 65.3318) projected
  line L37 (2.2951, 65.3318) -> (-1.6405, 65.3318) projected
  line L38 (-1.6405, 65.3318) -> (-1.6405, 62.7426) projected
  line L39 (-1.6405, 62.7426) -> (5.611, 62.7426) projected
  line L40 (5.611, 62.7426) -> (5.611, 59.4347) projected
  line L41 (5.611, 59.4347) -> (-3.7057, 59.4347) projected
  arc A0 (-5.0121, 60.8841) -> (-3.7057, 59.4347) centre (-2.6718, 61.68) ccw projected
  line L42 (-5.0121, 60.8841) -> (-5.0121, 67.0542) projected
  arc A1 (-3.4177, 68.7172) -> (-5.0121, 67.0542) centre (-3.281, 66.9903) ccw projected
  line L43 (-3.4177, 68.7172) -> (-5.9376, 72.6389) projected
  line L44 (-5.9376, 72.6389) -> (-1.936, 72.6389) projected
  line L45 (-1.936, 72.6389) -> (0.5839, 68.7172) projected
  line L46 (0.5839, 68.7172) -> (2.2951, 68.7172) projected
  line L47 (2.2951, 68.7172) -> (2.2951, 72.6389) projected
  line L48 (-35.0607, 69.2996) -> (-32.8922, 72.6389) projected
  line L49 (-32.8922, 72.6389) -> (-24.4617, 72.6389) projected
  line L50 (-24.4617, 72.6389) -> (-24.4617, 59.4285) projected
  line L51 (-24.4617, 59.4285) -> (-32.8922, 59.4285) projected
  line L52 (-32.8922, 59.4285) -> (-35.0606, 62.7665) projected
  line L53 (-35.0606, 62.7665) -> (-27.7836, 62.7665) projected
  line L54 (-27.7836, 62.7665) -> (-27.7836, 69.2996) projected
  line L55 (-27.7836, 69.2996) -> (-35.0607, 69.2996) projected
  line L56 (-23.787, 59.4347) -> (-21.5406, 62.7426) projected
  line L57 (-21.5406, 62.7426) -> (-19.0962, 62.7426) projected
  line L58 (-19.0962, 62.7426) -> (-19.0962, 59.4347) projected
  line L59 (-19.0962, 59.4347) -> (-23.787, 59.4347) projected
  line L60 (16.3103, 72.6177) -> (19.0392, 72.6249) projected
  line L61 (19.0392, 72.6249) -> (19.0392, 59.5823) projected
  line L62 (19.0392, 59.5823) -> (13.9055, 59.5823) projected
  line L63 (13.9055, 68.7657) -> (16.3103, 68.7657) projected
  line L64 (16.3103, 68.7657) -> (16.3103, 72.6177) projected
  circle A2 centre (7.5, 16.5) radius 1.7 projected
  circle A3 centre (-7.5, 30) radius 1.7 projected
  circle A4 centre (-7.5, 16.5) radius 1.7 projected
  circle A5 centre (7.5, 30) radius 1.7 projected
  circle A6 centre (-50, 87.5) radius 1.7 projected
  circle A7 centre (-18, 149) radius 1.7 projected
  circle A8 centre (-18, 87.5) radius 1.7 projected
  circle A9 centre (-50, 149) radius 1.7 projected
  circle A10 centre (43, 91) radius 1.7 projected
  circle A11 centre (-6, 149) radius 1.7 projected
  circle A12 centre (43, 149) radius 1.7 projected
  circle A13 centre (-6, 91) radius 1.7 projected
  circle A14 centre (-50, 48) radius 1.7 projected
  circle A15 centre (50, 168) radius 1.7 projected
  circle A16 centre (50, 18) radius 1.7 projected
  circle A17 centre (-50, 18) radius 1.7 projected
  circle A18 centre (-50, 168) radius 1.7 projected
  circle A19 centre (50, 48) radius 1.7 projected
  arc A20 (52.5, 0) -> (57.5, 5) centre (52.5, 5) ccw projected
  line L65 (57.5, 5) -> (57.5, 168) projected
  arc A21 (57.5, 168) -> (52.5, 173) centre (52.5, 168) ccw projected
  line L66 (52.5, 173) -> (-52.5, 173) projected
  arc A22 (-52.5, 173) -> (-57.5, 168) centre (-52.5, 168) ccw projected
  line L67 (-57.5, 168) -> (-57.5, 5) projected
  arc A23 (-57.5, 5) -> (-52.5, 0) centre (-52.5, 5) ccw projected
  line L68 (-52.5, 0) -> (52.5, 0) projected
  line L69 (0, 209.0497) -> (0, -36.0497) projected
  point P0 (0, 0)
  point P1 (-7.78, 40)
  point P2 (7.78, 40)
  dimension "d285" = 15.56
  dimension "d286" = 10
hole "Hole11" at (-7.78, 0, -40) at (7.78, 0, -40) direction (0, -1, 0) diameter 3 end through all
equation "\"d2\" = width"
equation "\"d94\" = d92"
equation "\"d95\" = HoleDia"
equation "\"d105\" = HoleDia"
equation "\"d125\" = HoleDia"
equation "\"d135\" = HoleDia"
equation "\"d280\" = 0.5 * d279"
equation "\"HoleDia\" = 3.4"
properties part number "top plate modified"
